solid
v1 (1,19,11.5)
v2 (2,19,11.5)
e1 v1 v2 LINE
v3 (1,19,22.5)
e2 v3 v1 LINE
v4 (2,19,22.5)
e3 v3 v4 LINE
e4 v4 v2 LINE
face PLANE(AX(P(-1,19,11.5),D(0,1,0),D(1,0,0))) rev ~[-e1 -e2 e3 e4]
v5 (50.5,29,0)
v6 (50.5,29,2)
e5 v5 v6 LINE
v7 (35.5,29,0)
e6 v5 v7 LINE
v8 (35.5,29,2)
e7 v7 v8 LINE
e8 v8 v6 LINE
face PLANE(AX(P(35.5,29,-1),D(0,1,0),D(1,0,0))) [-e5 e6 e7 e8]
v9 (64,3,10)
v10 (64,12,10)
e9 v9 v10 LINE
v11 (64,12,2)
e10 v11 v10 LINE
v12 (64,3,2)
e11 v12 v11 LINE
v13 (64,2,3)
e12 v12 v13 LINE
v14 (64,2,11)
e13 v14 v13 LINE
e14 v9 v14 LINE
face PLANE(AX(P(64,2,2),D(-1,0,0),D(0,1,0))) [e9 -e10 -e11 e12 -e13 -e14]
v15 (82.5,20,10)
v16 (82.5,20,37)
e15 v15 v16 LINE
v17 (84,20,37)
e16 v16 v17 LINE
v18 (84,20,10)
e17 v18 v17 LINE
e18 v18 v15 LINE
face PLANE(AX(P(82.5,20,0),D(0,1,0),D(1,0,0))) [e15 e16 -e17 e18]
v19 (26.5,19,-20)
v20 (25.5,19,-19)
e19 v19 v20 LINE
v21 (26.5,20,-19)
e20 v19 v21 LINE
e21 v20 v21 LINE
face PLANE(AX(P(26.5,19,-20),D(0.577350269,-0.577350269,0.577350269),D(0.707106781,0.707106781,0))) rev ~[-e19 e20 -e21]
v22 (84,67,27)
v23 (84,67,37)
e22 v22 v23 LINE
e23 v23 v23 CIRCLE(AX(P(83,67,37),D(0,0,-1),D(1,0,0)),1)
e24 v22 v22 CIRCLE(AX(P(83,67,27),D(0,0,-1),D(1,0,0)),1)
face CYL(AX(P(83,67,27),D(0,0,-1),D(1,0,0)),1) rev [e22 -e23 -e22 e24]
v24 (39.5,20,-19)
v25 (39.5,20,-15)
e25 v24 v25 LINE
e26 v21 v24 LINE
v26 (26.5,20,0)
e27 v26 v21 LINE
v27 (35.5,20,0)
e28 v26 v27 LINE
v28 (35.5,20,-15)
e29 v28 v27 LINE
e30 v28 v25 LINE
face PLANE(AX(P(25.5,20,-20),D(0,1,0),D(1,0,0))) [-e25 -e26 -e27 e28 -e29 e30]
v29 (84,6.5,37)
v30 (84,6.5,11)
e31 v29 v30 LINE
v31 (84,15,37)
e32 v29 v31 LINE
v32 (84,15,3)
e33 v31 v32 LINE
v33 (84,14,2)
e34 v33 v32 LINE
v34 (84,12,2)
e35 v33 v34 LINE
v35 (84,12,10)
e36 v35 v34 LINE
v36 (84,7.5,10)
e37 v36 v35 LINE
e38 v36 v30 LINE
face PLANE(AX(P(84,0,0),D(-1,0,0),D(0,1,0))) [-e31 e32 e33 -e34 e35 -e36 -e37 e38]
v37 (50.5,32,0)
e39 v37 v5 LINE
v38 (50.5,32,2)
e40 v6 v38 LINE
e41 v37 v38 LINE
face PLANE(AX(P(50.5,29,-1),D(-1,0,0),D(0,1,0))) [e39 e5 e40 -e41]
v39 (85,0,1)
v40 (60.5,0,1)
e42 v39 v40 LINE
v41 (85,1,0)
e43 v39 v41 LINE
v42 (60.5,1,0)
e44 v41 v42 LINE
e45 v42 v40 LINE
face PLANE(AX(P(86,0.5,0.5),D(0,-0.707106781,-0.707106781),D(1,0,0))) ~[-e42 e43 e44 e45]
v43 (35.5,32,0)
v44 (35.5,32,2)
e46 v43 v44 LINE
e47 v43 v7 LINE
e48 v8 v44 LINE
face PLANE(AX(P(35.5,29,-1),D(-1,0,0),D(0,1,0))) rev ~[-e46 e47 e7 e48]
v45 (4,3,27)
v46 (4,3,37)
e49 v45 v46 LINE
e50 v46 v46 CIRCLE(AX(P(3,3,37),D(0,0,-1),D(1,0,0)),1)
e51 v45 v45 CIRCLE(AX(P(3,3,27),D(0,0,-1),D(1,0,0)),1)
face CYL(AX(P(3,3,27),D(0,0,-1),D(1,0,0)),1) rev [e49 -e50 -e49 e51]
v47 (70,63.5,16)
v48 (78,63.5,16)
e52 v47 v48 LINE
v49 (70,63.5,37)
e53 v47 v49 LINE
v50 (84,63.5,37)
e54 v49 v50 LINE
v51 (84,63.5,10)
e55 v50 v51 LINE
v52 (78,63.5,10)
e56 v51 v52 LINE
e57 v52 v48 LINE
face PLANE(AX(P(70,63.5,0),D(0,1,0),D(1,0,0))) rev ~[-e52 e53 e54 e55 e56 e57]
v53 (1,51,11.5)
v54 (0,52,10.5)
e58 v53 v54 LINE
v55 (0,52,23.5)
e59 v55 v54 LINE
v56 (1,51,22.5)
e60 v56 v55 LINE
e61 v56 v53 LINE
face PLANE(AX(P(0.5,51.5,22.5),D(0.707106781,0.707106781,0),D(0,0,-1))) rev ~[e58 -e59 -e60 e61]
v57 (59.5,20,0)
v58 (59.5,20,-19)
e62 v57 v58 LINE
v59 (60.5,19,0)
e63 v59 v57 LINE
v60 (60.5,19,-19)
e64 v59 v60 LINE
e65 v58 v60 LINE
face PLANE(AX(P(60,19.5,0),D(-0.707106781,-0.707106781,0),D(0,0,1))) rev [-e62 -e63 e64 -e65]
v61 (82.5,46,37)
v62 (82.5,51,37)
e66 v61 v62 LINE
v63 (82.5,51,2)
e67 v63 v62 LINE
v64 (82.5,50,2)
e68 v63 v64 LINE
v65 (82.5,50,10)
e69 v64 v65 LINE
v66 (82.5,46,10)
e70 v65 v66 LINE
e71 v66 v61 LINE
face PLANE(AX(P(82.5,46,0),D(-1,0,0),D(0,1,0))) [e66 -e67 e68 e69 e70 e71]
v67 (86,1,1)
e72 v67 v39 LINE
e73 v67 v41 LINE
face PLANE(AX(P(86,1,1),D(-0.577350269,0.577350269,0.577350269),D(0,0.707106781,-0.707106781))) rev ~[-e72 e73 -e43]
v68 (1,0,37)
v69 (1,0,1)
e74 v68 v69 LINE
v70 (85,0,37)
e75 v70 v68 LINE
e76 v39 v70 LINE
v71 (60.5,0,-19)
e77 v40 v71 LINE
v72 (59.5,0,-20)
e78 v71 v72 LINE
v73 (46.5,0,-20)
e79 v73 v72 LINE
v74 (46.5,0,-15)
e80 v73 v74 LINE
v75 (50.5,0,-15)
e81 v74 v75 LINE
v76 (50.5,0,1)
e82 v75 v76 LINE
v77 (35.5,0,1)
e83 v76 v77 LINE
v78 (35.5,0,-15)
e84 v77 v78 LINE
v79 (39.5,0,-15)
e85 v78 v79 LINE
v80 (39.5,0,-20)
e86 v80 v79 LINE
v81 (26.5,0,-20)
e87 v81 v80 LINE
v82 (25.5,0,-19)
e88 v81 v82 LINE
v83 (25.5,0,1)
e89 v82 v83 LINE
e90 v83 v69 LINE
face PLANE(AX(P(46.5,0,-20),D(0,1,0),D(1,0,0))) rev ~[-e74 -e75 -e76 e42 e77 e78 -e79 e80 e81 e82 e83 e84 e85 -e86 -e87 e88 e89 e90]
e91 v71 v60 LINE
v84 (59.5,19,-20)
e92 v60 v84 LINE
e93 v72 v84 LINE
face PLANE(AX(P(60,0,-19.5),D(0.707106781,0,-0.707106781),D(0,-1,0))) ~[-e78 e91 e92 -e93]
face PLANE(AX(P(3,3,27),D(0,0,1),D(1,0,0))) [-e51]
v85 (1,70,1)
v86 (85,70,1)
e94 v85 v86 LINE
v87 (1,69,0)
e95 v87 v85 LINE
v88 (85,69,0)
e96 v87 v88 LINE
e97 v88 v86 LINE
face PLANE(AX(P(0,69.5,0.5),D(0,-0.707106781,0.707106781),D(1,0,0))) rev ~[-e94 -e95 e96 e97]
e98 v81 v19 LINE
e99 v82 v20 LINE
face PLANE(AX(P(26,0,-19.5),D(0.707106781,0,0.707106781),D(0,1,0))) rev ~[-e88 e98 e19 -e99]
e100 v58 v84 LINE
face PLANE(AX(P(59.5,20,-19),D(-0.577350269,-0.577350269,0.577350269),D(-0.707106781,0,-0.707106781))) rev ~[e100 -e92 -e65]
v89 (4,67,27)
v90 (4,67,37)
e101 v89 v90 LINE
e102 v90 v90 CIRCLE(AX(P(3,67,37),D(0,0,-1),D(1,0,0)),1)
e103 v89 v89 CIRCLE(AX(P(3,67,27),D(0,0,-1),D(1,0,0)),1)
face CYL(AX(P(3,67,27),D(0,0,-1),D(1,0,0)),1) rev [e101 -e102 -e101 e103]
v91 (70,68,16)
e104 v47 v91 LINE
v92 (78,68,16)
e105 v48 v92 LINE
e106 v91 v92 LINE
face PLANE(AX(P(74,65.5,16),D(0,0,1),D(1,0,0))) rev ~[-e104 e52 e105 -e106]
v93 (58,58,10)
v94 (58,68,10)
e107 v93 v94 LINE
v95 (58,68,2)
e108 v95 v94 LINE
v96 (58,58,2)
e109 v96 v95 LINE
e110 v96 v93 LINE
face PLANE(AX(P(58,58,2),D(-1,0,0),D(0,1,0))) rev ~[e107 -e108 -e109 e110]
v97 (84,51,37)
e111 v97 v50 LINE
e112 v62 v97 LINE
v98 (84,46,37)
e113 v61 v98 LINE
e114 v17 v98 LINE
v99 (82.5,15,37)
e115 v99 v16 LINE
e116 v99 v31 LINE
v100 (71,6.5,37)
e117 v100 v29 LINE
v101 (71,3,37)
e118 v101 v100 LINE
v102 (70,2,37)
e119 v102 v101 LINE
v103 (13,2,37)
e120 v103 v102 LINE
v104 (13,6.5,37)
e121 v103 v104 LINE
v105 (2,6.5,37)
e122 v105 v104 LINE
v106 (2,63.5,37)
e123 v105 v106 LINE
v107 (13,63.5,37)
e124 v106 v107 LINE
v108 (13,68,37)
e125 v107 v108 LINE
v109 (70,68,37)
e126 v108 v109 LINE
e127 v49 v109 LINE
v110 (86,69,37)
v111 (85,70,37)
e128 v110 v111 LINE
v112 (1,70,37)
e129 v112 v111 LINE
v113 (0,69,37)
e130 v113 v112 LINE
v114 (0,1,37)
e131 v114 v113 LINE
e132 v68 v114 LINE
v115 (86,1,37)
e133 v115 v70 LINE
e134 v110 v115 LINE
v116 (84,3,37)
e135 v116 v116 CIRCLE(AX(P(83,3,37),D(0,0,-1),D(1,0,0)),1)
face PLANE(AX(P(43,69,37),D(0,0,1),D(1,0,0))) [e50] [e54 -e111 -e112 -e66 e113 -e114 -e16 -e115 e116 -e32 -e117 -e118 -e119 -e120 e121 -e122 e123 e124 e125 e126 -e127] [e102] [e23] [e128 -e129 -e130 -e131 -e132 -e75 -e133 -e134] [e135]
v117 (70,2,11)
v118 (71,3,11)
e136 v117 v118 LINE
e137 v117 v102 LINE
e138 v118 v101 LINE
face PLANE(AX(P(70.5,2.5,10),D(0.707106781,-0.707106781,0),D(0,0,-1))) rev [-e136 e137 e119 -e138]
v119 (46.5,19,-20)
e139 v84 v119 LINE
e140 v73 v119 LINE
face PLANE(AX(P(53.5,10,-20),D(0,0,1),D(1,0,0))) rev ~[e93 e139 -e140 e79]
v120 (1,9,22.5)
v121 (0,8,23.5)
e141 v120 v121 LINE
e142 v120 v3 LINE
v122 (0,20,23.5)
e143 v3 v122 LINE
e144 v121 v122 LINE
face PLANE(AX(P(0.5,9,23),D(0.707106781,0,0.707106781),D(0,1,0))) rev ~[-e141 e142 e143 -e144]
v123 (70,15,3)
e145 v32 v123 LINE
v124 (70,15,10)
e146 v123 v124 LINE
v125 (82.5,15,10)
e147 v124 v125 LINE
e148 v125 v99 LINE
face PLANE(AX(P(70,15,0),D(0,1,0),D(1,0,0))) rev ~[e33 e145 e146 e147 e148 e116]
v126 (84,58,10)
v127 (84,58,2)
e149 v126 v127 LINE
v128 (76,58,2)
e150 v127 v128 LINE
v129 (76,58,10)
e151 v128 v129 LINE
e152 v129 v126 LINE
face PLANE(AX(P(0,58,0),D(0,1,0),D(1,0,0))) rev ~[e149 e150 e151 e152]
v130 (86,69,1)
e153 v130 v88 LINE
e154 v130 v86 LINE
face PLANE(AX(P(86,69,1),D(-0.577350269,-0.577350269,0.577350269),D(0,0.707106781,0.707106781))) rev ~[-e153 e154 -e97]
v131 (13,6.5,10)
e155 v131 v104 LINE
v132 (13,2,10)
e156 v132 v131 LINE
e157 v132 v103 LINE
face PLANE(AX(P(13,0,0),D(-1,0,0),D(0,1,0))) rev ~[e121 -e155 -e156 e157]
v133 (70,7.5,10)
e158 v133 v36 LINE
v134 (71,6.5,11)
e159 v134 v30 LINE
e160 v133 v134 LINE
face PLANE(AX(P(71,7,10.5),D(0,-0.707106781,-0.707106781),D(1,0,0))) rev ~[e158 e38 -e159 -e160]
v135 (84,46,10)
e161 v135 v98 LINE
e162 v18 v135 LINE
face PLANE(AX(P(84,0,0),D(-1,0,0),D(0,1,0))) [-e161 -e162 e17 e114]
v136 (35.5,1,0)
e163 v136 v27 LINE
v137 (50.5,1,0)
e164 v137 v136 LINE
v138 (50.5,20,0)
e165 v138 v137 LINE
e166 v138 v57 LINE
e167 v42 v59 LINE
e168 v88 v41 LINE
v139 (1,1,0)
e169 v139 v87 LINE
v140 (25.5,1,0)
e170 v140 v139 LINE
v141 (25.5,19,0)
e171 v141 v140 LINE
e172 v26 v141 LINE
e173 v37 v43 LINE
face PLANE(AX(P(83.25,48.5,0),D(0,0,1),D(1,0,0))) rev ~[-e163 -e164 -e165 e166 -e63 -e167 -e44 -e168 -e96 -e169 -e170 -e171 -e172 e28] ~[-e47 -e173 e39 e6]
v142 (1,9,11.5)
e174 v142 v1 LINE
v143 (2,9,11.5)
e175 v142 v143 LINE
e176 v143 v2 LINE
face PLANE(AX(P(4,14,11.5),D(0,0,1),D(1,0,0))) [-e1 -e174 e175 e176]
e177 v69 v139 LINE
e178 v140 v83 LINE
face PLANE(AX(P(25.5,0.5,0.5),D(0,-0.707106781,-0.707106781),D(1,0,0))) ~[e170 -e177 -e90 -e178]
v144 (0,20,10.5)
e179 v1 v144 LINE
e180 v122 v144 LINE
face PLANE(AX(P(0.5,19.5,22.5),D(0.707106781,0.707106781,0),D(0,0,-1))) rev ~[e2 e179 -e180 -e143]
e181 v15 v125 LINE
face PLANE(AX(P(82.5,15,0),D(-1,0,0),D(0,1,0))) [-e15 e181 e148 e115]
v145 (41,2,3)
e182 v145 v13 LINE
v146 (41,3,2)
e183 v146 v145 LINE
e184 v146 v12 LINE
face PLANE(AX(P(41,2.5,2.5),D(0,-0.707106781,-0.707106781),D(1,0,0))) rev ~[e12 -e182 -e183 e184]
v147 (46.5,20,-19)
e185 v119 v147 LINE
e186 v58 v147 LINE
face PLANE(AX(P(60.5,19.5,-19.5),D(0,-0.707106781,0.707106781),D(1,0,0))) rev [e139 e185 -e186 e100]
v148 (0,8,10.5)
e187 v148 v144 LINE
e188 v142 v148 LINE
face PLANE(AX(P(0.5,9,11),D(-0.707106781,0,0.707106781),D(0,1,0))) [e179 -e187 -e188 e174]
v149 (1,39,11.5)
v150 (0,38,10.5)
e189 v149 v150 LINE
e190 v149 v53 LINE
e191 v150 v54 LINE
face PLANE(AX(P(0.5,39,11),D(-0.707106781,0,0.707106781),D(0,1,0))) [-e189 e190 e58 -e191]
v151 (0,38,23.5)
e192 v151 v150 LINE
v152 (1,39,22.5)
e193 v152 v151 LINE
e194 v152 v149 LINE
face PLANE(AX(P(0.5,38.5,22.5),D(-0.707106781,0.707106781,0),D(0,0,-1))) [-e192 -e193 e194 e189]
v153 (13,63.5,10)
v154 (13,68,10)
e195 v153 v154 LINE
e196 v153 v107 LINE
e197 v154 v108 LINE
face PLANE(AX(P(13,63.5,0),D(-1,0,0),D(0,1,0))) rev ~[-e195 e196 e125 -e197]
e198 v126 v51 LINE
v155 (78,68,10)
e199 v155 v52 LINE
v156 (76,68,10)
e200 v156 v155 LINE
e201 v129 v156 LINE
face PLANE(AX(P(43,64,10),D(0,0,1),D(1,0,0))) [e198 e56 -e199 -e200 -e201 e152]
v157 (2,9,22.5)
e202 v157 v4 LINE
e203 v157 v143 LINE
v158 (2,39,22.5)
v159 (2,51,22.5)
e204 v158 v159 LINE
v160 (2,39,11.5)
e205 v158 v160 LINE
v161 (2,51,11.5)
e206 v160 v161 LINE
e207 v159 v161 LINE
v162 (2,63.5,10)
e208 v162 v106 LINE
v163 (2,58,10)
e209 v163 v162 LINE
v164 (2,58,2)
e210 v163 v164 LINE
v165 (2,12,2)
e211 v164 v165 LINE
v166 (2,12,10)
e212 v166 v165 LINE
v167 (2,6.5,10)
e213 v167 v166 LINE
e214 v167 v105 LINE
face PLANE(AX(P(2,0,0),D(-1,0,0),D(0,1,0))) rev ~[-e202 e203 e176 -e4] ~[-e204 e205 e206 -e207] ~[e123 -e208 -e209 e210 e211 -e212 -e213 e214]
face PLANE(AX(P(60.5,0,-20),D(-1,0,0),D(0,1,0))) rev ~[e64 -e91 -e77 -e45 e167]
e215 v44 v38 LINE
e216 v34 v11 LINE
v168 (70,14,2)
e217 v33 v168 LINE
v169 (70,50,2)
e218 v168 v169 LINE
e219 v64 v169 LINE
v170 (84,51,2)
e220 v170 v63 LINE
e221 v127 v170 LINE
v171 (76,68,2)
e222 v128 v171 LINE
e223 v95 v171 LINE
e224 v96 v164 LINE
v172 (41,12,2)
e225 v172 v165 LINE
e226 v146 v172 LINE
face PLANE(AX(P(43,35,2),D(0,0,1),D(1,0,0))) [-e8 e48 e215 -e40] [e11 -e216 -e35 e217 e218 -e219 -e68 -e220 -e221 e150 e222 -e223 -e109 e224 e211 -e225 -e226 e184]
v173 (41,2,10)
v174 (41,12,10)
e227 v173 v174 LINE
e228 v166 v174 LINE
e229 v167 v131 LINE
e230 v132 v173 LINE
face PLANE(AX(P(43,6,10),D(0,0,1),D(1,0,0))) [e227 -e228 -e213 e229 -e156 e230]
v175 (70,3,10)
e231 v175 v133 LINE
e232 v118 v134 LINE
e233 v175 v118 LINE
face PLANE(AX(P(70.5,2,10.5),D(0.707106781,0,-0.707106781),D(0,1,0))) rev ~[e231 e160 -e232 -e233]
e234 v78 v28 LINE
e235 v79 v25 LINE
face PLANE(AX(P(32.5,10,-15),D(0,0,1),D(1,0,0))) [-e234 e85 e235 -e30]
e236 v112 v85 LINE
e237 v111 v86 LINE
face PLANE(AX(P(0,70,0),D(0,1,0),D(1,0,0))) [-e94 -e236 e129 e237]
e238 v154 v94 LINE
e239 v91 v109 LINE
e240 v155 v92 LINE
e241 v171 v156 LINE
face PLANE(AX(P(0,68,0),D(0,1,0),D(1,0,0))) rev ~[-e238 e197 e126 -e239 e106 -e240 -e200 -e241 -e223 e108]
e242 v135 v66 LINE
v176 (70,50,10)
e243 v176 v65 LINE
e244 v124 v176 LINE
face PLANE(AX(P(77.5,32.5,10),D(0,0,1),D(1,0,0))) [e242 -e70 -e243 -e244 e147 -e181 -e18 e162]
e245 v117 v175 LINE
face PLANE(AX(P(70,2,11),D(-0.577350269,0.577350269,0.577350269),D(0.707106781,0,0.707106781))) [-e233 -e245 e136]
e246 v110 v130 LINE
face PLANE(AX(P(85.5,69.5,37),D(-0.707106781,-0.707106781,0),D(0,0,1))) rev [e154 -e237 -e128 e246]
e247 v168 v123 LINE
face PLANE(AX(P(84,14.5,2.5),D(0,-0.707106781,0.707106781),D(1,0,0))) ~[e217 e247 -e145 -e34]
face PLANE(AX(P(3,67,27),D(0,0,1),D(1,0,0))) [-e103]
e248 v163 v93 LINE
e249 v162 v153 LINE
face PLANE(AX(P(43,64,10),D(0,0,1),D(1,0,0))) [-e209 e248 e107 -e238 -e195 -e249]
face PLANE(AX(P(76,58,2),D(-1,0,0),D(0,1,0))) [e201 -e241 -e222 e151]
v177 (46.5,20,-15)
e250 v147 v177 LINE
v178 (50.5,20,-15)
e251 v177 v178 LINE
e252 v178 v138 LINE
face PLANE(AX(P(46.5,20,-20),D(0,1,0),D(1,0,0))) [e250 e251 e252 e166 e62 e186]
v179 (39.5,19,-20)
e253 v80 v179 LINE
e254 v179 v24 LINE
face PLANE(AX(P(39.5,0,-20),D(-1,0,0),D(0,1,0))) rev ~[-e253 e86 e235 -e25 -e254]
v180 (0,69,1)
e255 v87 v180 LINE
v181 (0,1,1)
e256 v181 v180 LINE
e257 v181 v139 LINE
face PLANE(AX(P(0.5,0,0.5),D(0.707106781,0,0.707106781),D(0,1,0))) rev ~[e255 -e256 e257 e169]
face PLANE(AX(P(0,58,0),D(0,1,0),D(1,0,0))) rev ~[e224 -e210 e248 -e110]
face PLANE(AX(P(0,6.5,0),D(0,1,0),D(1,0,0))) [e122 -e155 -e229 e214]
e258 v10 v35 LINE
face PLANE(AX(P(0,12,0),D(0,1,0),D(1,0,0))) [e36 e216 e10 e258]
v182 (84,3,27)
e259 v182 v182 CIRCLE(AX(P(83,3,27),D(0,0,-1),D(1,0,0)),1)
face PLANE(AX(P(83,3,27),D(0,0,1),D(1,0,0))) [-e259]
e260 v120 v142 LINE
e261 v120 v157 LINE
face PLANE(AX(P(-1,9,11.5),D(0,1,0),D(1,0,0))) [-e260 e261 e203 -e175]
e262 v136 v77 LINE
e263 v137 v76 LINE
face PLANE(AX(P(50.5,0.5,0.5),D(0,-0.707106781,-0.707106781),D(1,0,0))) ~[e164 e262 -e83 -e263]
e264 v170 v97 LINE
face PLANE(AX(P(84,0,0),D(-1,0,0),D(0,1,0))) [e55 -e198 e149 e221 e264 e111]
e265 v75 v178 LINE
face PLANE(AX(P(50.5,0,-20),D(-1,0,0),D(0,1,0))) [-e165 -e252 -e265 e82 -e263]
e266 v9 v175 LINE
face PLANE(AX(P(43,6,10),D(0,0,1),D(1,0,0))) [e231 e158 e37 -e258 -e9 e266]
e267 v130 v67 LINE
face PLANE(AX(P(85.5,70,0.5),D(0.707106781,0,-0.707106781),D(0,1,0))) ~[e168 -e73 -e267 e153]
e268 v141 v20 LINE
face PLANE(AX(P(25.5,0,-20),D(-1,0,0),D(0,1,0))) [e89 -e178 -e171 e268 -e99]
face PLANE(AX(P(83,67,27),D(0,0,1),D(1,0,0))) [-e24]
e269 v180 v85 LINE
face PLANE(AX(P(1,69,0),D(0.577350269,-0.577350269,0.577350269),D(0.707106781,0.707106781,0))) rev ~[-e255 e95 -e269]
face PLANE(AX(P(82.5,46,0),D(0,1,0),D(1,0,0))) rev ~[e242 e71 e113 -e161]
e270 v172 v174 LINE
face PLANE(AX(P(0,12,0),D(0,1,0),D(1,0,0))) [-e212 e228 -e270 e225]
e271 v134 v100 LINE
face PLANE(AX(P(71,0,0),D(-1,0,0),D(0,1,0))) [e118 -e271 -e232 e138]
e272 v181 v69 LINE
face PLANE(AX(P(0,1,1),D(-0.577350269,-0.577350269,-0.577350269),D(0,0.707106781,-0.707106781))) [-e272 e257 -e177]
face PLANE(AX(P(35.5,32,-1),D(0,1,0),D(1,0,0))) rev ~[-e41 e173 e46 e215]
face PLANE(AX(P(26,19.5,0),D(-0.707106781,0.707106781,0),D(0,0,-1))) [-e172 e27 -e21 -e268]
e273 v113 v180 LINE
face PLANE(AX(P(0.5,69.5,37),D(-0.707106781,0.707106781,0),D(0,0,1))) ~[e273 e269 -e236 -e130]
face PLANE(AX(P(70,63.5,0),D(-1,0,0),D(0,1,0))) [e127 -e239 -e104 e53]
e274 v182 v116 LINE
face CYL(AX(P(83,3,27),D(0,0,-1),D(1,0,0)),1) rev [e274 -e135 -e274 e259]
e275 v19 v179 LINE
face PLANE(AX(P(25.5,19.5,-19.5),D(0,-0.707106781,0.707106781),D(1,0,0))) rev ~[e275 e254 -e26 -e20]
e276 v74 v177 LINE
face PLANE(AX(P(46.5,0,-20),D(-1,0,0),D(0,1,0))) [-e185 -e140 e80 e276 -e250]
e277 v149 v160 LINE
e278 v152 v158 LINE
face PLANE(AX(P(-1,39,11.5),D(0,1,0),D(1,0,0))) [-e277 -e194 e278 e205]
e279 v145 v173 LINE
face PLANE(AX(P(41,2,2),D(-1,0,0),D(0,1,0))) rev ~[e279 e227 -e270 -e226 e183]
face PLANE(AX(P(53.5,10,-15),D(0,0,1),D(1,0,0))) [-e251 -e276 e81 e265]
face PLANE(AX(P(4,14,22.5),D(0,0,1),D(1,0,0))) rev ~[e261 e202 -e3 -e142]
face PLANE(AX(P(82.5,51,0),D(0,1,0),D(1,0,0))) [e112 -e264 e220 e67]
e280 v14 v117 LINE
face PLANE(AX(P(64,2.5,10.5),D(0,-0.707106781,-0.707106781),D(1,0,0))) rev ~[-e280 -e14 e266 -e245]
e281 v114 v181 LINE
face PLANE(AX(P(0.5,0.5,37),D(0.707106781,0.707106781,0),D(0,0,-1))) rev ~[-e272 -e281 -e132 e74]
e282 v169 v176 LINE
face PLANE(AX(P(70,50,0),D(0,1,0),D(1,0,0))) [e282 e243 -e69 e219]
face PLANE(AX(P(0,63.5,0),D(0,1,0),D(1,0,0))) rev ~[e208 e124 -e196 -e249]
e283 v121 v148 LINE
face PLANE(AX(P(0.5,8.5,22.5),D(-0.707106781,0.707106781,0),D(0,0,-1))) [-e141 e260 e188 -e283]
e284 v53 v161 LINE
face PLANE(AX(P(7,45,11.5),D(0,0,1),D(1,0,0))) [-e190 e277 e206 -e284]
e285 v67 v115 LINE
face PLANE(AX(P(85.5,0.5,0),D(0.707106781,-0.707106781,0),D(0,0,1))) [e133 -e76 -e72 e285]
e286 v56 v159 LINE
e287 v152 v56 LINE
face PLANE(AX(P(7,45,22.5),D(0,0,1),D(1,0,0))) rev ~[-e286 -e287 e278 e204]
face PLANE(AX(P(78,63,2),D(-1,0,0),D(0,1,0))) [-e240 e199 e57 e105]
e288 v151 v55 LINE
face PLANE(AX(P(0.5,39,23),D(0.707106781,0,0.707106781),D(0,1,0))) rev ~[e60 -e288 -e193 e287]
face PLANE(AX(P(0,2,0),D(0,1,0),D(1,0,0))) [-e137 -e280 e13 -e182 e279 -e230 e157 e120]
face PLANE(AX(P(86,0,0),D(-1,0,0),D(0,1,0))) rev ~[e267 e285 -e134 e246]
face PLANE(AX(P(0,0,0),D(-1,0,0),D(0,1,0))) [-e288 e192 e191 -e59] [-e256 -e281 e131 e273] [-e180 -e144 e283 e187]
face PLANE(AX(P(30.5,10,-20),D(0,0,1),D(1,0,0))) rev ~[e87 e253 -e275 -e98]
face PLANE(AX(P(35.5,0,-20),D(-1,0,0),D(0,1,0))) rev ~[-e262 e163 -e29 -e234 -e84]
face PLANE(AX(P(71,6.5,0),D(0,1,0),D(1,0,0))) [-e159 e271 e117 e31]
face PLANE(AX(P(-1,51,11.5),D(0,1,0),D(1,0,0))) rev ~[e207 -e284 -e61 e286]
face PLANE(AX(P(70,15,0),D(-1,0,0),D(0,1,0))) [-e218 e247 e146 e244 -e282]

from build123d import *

# Parameters (mm, degrees)
BOX028_W          = 15
BOX028_H          = 3
BOX028_DEPTH      = 3
BOX001_W          = 86
BOX001_H          = 2
BOX001_DEPTH      = 37
BOX002_W          = 86
BOX002_H          = 2
BOX002_DEPTH      = 37
BOX004_W          = 2
BOX004_H          = 70
BOX004_DEPTH      = 37
CYLINDER_R        = 1
CYLINDER_DEPTH    = 10
BOX005_W          = 13
BOX005_H          = 6.5
BOX005_DEPTH      = 37
CYLINDER001_R     = 1
CYLINDER001_DEPTH = 10
BOX007_W          = 13
BOX007_H          = 6.5
BOX007_DEPTH      = 37
CYLINDER002_R     = 1
CYLINDER002_DEPTH = 10
BOX006_W          = 15
BOX006_H          = 6.5
BOX006_DEPTH      = 37
BOX009_W          = 10
BOX009_H          = 10
BOX009_DEPTH      = 11
BOX010_W          = 16
BOX010_H          = 12
BOX010_DEPTH      = 11
BOX003_W          = 2
BOX003_H          = 70
BOX003_DEPTH      = 37
BOX018_W          = 15
BOX018_H          = 35
BOX018_DEPTH      = 10
BOX019_W          = 10
BOX019_H          = 20
BOX019_DEPTH      = 20
BOX020_W          = 10
BOX020_H          = 20
BOX020_DEPTH      = 20
BOX021_W          = 14
BOX021_H          = 20
BOX021_DEPTH      = 5
BOX022_W          = 14
BOX022_H          = 20
BOX022_DEPTH      = 5
BOX023_W          = 1.5
BOX023_H          = 5
BOX023_DEPTH      = 37
BOX024_W          = 1.5
BOX024_H          = 5
BOX024_DEPTH      = 37
BOX025_W          = 23
BOX025_H          = 10
BOX025_DEPTH      = 8
BOX016_W          = 86
BOX016_H          = 12
BOX016_DEPTH      = 10
BOX026_W          = 18
BOX026_H          = 10
BOX026_DEPTH      = 8
BOX017_W          = 86
BOX017_H          = 12
BOX017_DEPTH      = 10
BOX027_W          = 8
BOX027_H          = 5
BOX027_DEPTH      = 14
CYLINDER003_R     = 1
CYLINDER003_DEPTH = 10
BOX008_W          = 16
BOX008_H          = 6.5
BOX008_DEPTH      = 37
BOX_W             = 86
BOX_H             = 70
BOX_DEPTH         = 2
CHAMFER_SIZE      = 1


with BuildPart() as cubo028:
    # Box028 → Box028 (new body)
    with BuildSketch(Plane(origin=(35.5, 29, -1), x_dir=(1, 0, 0), z_dir=(0, 0, 1))):
        with Locations((7.5, 1.5)):
            Rectangle(BOX028_W, BOX028_H)
    extrude(amount=BOX028_DEPTH)


with BuildPart() as cubo001:
    # Box001 → Box001 (new body)
    with BuildSketch(Plane.XY):
        with Locations((43, 1)):
            Rectangle(BOX001_W, BOX001_H)
    extrude(amount=BOX001_DEPTH)


with BuildPart() as cubo002:
    # Box002 → Box002 (new body)
    with BuildSketch(Plane(origin=(0, 68, 0), x_dir=(1, 0, 0), z_dir=(0, 0, 1))):
        with Locations((43, 1)):
            Rectangle(BOX002_W, BOX002_H)
    extrude(amount=BOX002_DEPTH)


with BuildPart() as cubo004:
    # Box004 → Box004 (new body)
    with BuildSketch(Plane(origin=(84, 0, 0), x_dir=(1, 0, 0), z_dir=(0, 0, 1))):
        with Locations((1, 35)):
            Rectangle(BOX004_W, BOX004_H)
    extrude(amount=BOX004_DEPTH)


with BuildPart() as cilindro:
    # Cylinder → Cylinder (new body)
    with BuildSketch(Plane(origin=(3, 3, 27), x_dir=(1, 0, 0), z_dir=(0, 0, 1))):
        Circle(CYLINDER_R)
    extrude(amount=CYLINDER_DEPTH)


with BuildPart() as cut002:
    # Box005 → Box005 (new body)
    with BuildSketch(Plane.XY):
        with Locations((6.5, 3.25)):
            Rectangle(BOX005_W, BOX005_H)
    extrude(amount=BOX005_DEPTH)

    # Cut002: cut Cilindro
    add(cilindro.part, mode=Mode.SUBTRACT)


with BuildPart() as cilindro001:
    # Cylinder001 → Cylinder001 (new body)
    with BuildSketch(Plane(origin=(3, 67, 27), x_dir=(1, 0, 0), z_dir=(0, 0, 1))):
        Circle(CYLINDER001_R)
    extrude(amount=CYLINDER001_DEPTH)


with BuildPart() as cut003:
    # Box007 → Box007 (new body)
    with BuildSketch(Plane(origin=(0, 63.5, 0), x_dir=(1, 0, 0), z_dir=(0, 0, 1))):
        with Locations((6.5, 3.25)):
            Rectangle(BOX007_W, BOX007_H)
    extrude(amount=BOX007_DEPTH)

    # Cut003: cut Cilindro001
    add(cilindro001.part, mode=Mode.SUBTRACT)


with BuildPart() as cilindro002:
    # Cylinder002 → Cylinder002 (new body)
    with BuildSketch(Plane(origin=(83, 3, 27), x_dir=(1, 0, 0), z_dir=(0, 0, 1))):
        Circle(CYLINDER002_R)
    extrude(amount=CYLINDER002_DEPTH)


with BuildPart() as cut004:
    # Box006 → Box006 (new body)
    with BuildSketch(Plane(origin=(71, 0, 0), x_dir=(1, 0, 0), z_dir=(0, 0, 1))):
        with Locations((7.5, 3.25)):
            Rectangle(BOX006_W, BOX006_H)
    extrude(amount=BOX006_DEPTH)

    # Cut004: cut Cilindro002
    add(cilindro002.part, mode=Mode.SUBTRACT)


with BuildPart() as cubo009:
    # Box009 → Box009 (new body)
    with BuildSketch(Plane(origin=(-1, 9, 11.5), x_dir=(1, 0, 0), z_dir=(0, 0, 1))):
        with Locations((5, 5)):
            Rectangle(BOX009_W, BOX009_H)
    extrude(amount=BOX009_DEPTH)


with BuildPart() as cubo010:
    # Box010 → Box010 (new body)
    with BuildSketch(Plane(origin=(-1, 39, 11.5), x_dir=(1, 0, 0), z_dir=(0, 0, 1))):
        with Locations((8, 6)):
            Rectangle(BOX010_W, BOX010_H)
    extrude(amount=BOX010_DEPTH)


with BuildPart() as cut006:
    # Box003 → Box003 (new body)
    with BuildSketch(Plane.XY):
        with Locations((1, 35)):
            Rectangle(BOX003_W, BOX003_H)
    extrude(amount=BOX003_DEPTH)

    # Cut: cut Cubo010
    add(cubo010.part, mode=Mode.SUBTRACT)

    # Cut006: cut Cubo009
    add(cubo009.part, mode=Mode.SUBTRACT)


with BuildPart() as cubo018:
    # Box018 → Box018 (new body)
    with BuildSketch(Plane(origin=(70, 15, 0), x_dir=(1, 0, 0), z_dir=(0, 0, 1))):
        with Locations((7.5, 17.5)):
            Rectangle(BOX018_W, BOX018_H)
    extrude(amount=BOX018_DEPTH)


with BuildPart() as cubo019:
    # Box019 → Box019 (new body)
    with BuildSketch(Plane(origin=(25.5, 0, -20), x_dir=(1, 0, 0), z_dir=(0, 0, 1))):
        with Locations((5, 10)):
            Rectangle(BOX019_W, BOX019_H)
    extrude(amount=BOX019_DEPTH)


with BuildPart() as cubo020:
    # Box020 → Box020 (new body)
    with BuildSketch(Plane(origin=(50.5, 0, -20), x_dir=(1, 0, 0), z_dir=(0, 0, 1))):
        with Locations((5, 10)):
            Rectangle(BOX020_W, BOX020_H)
    extrude(amount=BOX020_DEPTH)


with BuildPart() as cubo021:
    # Box021 → Box021 (new body)
    with BuildSketch(Plane(origin=(25.5, 0, -20), x_dir=(1, 0, 0), z_dir=(0, 0, 1))):
        with Locations((7, 10)):
            Rectangle(BOX021_W, BOX021_H)
    extrude(amount=BOX021_DEPTH)


with BuildPart() as cubo022:
    # Box022 → Box022 (new body)
    with BuildSketch(Plane(origin=(46.5, 0, -20), x_dir=(1, 0, 0), z_dir=(0, 0, 1))):
        with Locations((7, 10)):
            Rectangle(BOX022_W, BOX022_H)
    extrude(amount=BOX022_DEPTH)


with BuildPart() as cubo023:
    # Box023 → Box023 (new body)
    with BuildSketch(Plane(origin=(82.5, 15, 0), x_dir=(1, 0, 0), z_dir=(0, 0, 1))):
        with Locations((0.75, 2.5)):
            Rectangle(BOX023_W, BOX023_H)
    extrude(amount=BOX023_DEPTH)


with BuildPart() as cubo024:
    # Box024 → Box024 (new body)
    with BuildSketch(Plane(origin=(82.5, 46, 0), x_dir=(1, 0, 0), z_dir=(0, 0, 1))):
        with Locations((0.75, 2.5)):
            Rectangle(BOX024_W, BOX024_H)
    extrude(amount=BOX024_DEPTH)


with BuildPart() as cubo025:
    # Box025 → Box025 (new body)
    with BuildSketch(Plane(origin=(41, 2, 2), x_dir=(1, 0, 0), z_dir=(0, 0, 1))):
        with Locations((11.5, 5)):
            Rectangle(BOX025_W, BOX025_H)
    extrude(amount=BOX025_DEPTH)


with BuildPart() as cut007:
    # Box016 → Box016 (new body)
    with BuildSketch(Plane.XY):
        with Locations((43, 6)):
            Rectangle(BOX016_W, BOX016_H)
    extrude(amount=BOX016_DEPTH)

    # Cut007: cut Cubo025
    add(cubo025.part, mode=Mode.SUBTRACT)


with BuildPart() as cubo026:
    # Box026 → Box026 (new body)
    with BuildSketch(Plane(origin=(58, 58, 2), x_dir=(1, 0, 0), z_dir=(0, 0, 1))):
        with Locations((9, 5)):
            Rectangle(BOX026_W, BOX026_H)
    extrude(amount=BOX026_DEPTH)


with BuildPart() as cut008:
    # Box017 → Box017 (new body)
    with BuildSketch(Plane(origin=(0, 58, 0), x_dir=(1, 0, 0), z_dir=(0, 0, 1))):
        with Locations((43, 6)):
            Rectangle(BOX017_W, BOX017_H)
    extrude(amount=BOX017_DEPTH)

    # Cut008: cut Cubo026
    add(cubo026.part, mode=Mode.SUBTRACT)


with BuildPart() as cubo027:
    # Box027 → Box027 (new body)
    with BuildSketch(Plane(origin=(70, 63, 2), x_dir=(1, 0, 0), z_dir=(0, 0, 1))):
        with Locations((4, 2.5)):
            Rectangle(BOX027_W, BOX027_H)
    extrude(amount=BOX027_DEPTH)


with BuildPart() as cilindro003:
    # Cylinder003 → Cylinder003 (new body)
    with BuildSketch(Plane(origin=(83, 67, 27), x_dir=(1, 0, 0), z_dir=(0, 0, 1))):
        Circle(CYLINDER003_R)
    extrude(amount=CYLINDER003_DEPTH)


with BuildPart() as cut009:
    # Box008 → Box008 (new body)
    with BuildSketch(Plane(origin=(70, 63.5, 0), x_dir=(1, 0, 0), z_dir=(0, 0, 1))):
        with Locations((8, 3.25)):
            Rectangle(BOX008_W, BOX008_H)
    extrude(amount=BOX008_DEPTH)

    # Cut005: cut Cilindro003
    add(cilindro003.part, mode=Mode.SUBTRACT)

    # Cut009: cut Cubo027
    add(cubo027.part, mode=Mode.SUBTRACT)


with BuildPart() as cut010:
    # Box → Box (new body)
    with BuildSketch(Plane.XY):
        with Locations((43, 35)):
            Rectangle(BOX_W, BOX_H)
    extrude(amount=BOX_DEPTH)

    # Fusion: union Cubo001, Cubo002, Cubo004, Cut002, Cut003, Cut004, Cut006, Cubo018, Cubo019, Cubo020, Cubo021, Cubo022, Cubo023, Cubo024, Cut007, Cut008, Cut009
    add(cubo001.part)
    add(cubo002.part)
    add(cubo004.part)
    add(cut002.part)
    add(cut003.part)
    add(cut004.part)
    add(cut006.part)
    add(cubo018.part)
    add(cubo019.part)
    add(cubo020.part)
    add(cubo021.part)
    add(cubo022.part)
    add(cubo023.part)
    add(cubo024.part)
    add(cut007.part)
    add(cut008.part)
    add(cut009.part)

    # Chamfer
    chamfer_edges = [cut010.edges().sort_by_distance(p)[0] for p in [
        (12.75, 0, 0),
        (43, 0, 0),
        (73.25, 0, 0),
        (86, 0, 18.5),
        (0, 0, 18.5),
        (0, 45, 11.5),
        (0, 51, 17),
        (0, 39, 17),
        (0, 45, 22.5),
        (0, 14, 11.5),
        (0, 19, 17),
        (0, 9, 17),
        (0, 14, 22.5),
        (0, 70, 18.5),
        (0, 35, 0),
        (43, 70, 0),
        (86, 35, 0),
        (77.5, 6.5, 10),
        (71, 4.25, 10),
        (67.5, 2, 10),
        (71, 2, 23.5),
        (25.5, 20, -10),
        (25.5, 10, -20),
        (60.5, 10, -20),
        (60.5, 20, -10),
        (32.5, 20, -20),
        (53.5, 20, -20),
        (86, 70, 18.5),
        (52.5, 2, 2),
        (77, 15, 2),
    ]]
    chamfer(chamfer_edges, length=CHAMFER_SIZE)

    # Cut010: cut Cubo028
    add(cubo028.part, mode=Mode.SUBTRACT)


solid = cut010.part
